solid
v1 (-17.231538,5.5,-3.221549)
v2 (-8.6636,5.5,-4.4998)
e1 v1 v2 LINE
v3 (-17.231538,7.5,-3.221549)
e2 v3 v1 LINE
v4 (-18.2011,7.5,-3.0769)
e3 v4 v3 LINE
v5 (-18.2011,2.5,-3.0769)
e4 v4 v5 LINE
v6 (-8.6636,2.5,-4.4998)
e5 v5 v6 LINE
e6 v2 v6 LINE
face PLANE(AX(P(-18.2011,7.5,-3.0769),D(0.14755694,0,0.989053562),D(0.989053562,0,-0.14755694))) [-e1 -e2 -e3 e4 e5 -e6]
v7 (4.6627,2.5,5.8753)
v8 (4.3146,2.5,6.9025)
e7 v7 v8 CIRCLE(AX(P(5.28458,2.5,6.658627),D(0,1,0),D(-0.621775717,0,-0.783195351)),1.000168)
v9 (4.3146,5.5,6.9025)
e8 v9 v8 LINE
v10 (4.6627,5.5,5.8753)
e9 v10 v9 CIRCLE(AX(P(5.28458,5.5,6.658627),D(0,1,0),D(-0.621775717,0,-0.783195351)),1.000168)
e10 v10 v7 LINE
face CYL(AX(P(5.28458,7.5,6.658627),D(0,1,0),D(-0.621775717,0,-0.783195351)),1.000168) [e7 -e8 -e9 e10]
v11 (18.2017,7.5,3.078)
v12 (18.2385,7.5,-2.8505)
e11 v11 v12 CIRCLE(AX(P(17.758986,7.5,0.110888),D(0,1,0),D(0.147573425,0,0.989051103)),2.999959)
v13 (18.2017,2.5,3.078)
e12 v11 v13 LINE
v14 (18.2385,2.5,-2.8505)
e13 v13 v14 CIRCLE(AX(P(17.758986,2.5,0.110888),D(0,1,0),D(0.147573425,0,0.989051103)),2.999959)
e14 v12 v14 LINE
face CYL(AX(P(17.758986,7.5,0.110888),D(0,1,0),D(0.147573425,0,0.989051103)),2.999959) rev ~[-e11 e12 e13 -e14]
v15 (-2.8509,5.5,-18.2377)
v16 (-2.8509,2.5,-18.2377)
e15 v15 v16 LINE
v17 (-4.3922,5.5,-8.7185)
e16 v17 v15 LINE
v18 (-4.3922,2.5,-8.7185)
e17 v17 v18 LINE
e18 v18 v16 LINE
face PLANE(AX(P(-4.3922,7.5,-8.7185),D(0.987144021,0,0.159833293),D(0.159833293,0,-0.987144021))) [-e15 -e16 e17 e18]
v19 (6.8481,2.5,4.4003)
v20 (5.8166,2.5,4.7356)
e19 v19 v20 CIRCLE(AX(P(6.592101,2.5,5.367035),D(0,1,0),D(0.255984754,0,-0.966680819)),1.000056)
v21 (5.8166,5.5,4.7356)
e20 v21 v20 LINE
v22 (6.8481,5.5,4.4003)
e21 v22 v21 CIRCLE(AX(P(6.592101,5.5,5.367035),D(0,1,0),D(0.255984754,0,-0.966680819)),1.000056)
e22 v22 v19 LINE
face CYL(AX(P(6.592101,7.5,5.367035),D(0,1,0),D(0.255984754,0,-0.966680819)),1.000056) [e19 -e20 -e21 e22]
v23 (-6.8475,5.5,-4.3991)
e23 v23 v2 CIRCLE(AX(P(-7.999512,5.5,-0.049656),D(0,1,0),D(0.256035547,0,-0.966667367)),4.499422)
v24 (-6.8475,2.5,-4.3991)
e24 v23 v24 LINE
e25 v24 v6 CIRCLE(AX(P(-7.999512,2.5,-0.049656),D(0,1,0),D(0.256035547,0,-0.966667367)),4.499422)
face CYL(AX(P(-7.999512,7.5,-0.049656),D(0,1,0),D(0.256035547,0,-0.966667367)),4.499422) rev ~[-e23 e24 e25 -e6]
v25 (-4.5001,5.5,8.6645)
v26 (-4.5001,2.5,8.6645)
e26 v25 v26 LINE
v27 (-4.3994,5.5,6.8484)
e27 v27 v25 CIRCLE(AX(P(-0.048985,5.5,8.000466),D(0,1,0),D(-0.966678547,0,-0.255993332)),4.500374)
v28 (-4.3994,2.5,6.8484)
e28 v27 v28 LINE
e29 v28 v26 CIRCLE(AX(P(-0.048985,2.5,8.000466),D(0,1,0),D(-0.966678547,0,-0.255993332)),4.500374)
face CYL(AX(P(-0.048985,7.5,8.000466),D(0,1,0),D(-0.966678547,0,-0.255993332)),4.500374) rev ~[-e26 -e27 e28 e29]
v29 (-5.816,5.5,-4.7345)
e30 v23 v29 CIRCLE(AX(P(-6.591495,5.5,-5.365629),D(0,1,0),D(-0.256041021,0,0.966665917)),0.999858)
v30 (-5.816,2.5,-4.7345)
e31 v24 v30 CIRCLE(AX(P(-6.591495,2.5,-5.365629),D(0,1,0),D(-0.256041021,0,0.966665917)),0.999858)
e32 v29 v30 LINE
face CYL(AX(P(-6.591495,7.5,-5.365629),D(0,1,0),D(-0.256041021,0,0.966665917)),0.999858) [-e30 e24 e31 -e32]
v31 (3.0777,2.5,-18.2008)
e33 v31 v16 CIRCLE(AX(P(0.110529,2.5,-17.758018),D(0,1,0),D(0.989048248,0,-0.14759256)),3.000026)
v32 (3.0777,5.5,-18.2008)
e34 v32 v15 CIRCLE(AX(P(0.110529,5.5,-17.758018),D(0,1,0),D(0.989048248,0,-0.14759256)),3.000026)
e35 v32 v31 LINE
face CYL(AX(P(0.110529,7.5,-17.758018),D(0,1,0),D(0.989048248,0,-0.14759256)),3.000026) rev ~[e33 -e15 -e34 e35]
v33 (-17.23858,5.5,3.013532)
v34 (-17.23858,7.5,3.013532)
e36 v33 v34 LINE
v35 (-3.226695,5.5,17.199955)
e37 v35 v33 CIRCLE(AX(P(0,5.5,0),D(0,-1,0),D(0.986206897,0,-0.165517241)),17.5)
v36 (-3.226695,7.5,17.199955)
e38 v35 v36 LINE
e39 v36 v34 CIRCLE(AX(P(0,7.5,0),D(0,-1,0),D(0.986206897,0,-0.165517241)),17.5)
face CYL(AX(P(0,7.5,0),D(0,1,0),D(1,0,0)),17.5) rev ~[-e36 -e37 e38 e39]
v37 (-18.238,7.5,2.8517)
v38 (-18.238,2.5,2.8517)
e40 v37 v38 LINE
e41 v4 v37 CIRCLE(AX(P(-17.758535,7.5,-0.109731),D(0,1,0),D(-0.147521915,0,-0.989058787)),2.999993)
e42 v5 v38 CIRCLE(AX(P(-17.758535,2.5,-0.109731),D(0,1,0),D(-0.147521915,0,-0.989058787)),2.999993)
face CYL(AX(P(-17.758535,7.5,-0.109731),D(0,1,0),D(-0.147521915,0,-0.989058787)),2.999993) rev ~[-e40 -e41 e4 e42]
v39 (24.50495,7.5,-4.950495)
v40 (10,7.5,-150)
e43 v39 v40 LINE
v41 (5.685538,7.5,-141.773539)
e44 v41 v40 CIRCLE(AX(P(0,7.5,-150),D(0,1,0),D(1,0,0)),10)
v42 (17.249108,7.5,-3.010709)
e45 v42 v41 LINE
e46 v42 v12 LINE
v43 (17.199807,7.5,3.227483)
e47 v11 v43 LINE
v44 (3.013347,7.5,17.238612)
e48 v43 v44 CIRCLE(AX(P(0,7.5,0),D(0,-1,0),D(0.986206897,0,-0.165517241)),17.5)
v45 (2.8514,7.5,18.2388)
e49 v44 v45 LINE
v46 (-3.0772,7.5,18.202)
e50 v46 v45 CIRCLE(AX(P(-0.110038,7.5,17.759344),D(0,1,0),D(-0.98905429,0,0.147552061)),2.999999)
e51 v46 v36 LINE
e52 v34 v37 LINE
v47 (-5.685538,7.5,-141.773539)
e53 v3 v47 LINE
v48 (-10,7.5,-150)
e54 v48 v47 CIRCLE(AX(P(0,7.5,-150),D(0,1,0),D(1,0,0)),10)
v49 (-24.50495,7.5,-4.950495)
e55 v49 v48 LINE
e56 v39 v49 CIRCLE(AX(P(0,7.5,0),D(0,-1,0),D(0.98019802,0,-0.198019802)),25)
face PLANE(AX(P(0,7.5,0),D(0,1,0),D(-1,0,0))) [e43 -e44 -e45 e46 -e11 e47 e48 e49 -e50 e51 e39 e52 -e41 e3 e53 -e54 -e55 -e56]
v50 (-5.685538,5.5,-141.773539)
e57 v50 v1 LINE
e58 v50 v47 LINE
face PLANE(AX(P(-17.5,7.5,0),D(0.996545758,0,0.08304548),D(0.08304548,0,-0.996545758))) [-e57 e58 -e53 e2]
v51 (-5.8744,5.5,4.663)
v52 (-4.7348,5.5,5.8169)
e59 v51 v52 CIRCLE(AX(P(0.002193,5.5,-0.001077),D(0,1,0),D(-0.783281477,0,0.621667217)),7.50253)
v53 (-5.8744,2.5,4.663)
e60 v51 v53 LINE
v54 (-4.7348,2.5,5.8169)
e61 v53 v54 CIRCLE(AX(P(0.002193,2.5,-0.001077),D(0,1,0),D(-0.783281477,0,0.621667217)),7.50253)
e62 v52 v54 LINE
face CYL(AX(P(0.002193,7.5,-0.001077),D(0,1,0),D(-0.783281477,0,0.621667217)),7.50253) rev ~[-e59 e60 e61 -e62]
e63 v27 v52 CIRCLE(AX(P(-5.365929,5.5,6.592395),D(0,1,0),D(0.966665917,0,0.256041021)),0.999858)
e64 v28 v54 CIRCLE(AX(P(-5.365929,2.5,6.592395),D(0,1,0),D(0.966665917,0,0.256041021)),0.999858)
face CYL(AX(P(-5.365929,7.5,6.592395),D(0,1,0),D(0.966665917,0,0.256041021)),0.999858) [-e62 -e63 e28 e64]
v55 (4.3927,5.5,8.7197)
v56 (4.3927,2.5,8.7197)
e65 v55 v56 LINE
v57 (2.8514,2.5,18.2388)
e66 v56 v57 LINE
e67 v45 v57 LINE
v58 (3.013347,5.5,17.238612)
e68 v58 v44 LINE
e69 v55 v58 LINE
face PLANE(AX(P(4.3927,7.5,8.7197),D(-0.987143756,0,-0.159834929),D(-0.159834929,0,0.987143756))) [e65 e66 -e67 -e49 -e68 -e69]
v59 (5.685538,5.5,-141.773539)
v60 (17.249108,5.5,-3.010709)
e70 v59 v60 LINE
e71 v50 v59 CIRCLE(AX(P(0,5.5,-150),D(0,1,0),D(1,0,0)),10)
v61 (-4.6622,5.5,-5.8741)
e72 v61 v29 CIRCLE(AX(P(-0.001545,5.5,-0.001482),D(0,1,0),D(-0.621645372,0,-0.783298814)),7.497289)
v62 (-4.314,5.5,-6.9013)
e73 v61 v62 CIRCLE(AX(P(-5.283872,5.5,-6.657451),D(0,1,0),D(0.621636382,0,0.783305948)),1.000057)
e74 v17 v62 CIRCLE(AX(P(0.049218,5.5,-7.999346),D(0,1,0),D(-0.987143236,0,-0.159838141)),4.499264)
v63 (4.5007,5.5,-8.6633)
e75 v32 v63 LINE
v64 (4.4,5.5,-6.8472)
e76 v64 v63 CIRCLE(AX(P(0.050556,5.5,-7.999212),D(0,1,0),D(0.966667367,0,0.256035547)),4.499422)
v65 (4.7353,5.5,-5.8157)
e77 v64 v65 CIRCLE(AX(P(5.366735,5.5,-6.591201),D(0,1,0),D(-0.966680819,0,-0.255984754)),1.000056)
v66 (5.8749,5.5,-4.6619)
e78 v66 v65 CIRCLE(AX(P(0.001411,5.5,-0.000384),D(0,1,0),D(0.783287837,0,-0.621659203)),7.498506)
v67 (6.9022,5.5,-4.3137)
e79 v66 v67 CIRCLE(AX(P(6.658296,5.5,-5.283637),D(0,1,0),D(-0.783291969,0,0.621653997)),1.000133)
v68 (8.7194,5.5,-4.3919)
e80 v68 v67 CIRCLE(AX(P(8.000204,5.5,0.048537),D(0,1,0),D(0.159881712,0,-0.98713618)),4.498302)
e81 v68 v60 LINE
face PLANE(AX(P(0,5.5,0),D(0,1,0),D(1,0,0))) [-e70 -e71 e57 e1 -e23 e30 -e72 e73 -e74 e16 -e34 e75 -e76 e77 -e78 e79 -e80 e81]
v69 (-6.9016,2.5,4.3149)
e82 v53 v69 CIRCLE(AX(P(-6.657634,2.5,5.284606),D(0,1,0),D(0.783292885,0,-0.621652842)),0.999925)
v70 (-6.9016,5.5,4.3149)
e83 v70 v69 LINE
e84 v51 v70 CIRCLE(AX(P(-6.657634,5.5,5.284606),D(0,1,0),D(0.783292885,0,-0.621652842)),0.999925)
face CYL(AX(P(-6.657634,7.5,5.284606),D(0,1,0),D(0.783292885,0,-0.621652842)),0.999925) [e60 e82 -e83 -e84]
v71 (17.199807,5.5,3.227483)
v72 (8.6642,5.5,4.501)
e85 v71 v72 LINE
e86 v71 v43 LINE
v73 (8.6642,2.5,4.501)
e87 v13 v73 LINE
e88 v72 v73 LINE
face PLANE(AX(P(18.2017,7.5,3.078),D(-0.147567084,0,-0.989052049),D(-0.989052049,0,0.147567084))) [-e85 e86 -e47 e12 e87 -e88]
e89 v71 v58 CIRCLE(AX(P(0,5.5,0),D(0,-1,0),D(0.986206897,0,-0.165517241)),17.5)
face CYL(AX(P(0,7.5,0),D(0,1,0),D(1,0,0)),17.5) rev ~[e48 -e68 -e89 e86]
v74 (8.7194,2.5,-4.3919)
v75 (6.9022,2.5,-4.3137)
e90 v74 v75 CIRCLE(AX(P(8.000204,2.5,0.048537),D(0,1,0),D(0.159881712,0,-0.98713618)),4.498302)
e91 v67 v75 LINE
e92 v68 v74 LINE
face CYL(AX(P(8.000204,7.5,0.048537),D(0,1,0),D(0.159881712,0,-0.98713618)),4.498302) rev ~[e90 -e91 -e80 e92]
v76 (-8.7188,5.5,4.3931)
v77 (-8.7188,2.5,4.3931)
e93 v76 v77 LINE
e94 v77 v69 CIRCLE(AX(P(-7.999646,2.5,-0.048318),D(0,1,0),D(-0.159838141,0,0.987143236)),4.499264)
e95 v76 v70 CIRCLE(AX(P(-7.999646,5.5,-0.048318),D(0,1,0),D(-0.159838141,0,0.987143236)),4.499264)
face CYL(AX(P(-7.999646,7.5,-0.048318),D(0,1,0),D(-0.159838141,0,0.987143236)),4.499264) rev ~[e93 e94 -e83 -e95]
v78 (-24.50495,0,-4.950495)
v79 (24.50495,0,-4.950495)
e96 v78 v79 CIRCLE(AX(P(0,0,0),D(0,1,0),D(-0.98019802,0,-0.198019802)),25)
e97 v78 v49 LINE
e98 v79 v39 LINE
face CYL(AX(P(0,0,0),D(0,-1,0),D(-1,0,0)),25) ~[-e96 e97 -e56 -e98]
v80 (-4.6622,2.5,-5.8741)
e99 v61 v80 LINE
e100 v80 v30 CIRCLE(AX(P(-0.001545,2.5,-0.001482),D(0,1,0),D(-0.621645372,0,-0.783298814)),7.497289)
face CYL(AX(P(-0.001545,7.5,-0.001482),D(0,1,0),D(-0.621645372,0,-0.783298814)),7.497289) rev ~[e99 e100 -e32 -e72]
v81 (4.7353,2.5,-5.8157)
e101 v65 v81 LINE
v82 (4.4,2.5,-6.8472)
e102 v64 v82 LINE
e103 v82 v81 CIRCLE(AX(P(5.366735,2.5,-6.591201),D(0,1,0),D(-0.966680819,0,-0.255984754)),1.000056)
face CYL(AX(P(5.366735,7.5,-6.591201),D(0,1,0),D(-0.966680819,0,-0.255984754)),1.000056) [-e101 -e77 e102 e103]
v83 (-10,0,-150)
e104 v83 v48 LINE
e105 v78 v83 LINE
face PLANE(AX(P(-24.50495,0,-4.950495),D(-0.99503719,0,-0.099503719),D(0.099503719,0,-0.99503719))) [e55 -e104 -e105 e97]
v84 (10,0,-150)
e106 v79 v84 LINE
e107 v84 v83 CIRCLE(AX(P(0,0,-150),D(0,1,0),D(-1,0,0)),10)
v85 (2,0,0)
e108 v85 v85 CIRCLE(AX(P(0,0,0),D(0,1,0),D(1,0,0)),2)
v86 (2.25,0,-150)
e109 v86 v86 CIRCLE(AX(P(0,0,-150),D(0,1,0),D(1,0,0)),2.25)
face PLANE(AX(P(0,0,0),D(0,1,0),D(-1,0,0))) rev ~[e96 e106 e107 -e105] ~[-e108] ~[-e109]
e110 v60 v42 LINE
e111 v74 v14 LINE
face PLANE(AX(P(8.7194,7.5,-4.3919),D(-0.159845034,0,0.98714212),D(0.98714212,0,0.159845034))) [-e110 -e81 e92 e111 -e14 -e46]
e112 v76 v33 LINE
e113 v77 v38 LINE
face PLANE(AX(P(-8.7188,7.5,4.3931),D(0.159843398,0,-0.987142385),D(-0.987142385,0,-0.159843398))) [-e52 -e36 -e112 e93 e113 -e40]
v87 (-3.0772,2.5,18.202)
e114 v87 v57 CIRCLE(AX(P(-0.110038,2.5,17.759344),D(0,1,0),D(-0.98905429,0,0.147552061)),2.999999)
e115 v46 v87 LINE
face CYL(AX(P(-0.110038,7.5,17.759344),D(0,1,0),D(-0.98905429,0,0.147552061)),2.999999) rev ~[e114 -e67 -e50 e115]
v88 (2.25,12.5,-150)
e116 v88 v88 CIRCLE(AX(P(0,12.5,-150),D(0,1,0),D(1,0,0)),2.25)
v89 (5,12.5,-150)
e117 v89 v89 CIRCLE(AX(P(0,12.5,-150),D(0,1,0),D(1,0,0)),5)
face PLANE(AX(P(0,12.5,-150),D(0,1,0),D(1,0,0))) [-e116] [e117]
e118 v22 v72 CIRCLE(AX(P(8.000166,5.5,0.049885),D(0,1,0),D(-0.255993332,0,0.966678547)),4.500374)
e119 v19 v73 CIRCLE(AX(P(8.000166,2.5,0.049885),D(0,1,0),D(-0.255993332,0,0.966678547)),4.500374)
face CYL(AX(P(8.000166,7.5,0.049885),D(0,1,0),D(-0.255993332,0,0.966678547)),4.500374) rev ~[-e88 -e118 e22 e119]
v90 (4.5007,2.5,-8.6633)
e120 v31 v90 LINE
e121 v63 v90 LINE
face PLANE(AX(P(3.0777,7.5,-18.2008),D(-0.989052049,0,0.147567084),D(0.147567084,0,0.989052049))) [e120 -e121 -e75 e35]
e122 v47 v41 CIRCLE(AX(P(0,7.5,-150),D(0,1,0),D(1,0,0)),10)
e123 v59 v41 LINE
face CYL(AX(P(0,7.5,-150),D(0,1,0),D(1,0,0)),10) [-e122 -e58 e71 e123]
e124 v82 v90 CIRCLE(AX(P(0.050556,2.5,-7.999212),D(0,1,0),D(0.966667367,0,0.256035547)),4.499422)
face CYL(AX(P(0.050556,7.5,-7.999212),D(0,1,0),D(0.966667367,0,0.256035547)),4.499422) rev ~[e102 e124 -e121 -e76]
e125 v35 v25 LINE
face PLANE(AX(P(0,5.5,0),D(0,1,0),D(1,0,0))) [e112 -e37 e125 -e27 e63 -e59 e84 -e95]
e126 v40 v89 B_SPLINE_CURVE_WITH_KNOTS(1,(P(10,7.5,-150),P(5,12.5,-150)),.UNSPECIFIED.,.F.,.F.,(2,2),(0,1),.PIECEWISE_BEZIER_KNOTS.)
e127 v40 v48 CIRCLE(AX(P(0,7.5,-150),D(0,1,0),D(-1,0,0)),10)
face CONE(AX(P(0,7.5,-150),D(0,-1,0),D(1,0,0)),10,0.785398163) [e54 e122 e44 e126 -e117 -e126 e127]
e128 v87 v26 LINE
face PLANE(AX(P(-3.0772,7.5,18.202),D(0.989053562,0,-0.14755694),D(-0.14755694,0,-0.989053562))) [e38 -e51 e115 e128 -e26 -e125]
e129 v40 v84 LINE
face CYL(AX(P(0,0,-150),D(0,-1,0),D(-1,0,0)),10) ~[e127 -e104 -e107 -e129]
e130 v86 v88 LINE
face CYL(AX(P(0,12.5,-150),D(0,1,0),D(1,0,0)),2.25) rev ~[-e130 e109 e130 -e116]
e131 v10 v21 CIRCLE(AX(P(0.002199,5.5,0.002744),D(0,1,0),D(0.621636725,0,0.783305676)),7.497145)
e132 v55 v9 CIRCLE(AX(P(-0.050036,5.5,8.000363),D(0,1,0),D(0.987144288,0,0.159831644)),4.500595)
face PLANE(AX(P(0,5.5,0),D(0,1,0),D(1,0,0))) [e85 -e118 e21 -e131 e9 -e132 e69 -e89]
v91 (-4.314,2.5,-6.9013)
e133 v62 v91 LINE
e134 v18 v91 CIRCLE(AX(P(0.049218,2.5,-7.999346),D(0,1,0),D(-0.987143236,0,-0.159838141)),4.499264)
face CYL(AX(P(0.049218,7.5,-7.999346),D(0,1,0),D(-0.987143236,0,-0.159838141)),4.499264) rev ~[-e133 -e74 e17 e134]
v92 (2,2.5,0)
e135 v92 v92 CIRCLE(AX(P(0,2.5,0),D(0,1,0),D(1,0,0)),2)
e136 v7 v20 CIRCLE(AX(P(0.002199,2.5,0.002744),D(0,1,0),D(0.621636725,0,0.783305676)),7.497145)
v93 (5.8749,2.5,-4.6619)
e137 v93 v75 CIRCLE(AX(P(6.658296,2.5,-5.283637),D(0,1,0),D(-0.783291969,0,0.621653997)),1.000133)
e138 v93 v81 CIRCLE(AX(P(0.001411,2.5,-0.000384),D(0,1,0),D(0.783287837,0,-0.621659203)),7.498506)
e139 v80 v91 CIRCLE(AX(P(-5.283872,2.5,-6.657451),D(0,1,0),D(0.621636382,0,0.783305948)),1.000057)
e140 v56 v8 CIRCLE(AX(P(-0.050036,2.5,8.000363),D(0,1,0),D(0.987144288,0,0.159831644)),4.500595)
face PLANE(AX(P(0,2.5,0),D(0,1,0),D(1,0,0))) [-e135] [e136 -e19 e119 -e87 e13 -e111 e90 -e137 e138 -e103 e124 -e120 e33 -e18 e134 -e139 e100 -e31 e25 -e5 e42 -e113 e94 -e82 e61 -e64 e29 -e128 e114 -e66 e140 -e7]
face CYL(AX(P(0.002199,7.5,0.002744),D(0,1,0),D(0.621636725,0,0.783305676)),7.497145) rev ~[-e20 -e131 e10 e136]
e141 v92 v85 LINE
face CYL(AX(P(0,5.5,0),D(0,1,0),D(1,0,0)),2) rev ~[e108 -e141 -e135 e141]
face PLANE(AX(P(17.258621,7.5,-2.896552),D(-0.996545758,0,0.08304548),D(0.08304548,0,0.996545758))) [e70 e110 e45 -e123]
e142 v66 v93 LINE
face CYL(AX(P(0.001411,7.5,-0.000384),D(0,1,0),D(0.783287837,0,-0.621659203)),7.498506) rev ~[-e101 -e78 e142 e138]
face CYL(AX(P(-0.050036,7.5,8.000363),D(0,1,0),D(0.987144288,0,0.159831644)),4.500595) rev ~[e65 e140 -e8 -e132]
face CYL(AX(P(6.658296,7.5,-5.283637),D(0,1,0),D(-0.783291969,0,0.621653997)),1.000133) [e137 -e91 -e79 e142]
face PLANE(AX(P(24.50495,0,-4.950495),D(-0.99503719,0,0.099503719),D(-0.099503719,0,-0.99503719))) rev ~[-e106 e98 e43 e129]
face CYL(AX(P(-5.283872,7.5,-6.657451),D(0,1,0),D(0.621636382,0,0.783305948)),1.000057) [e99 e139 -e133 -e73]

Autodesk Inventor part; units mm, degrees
ref_plane "YZ Plane" through (0, 0, 0) normal (1, 0, 0) x (0, 1, 0)
sketch "Sketch1" plane through (0, 0, 0) normal (0, 1, 0) x (-1, 0, 0)
  circle A0 centre (0, 0) radius 25
  line L0 (0, 0) -> (0, -150)
  circle A1 centre (0, -150) radius 10
  line L1 (0, 0) -> (25, 0)
  line L2 (0, -150) -> (10, -150)
  line L3 (0, -150) -> (-10, -150)
  line L4 (0, 0) -> (-25, 0)
  line L5 (25, 0) -> (10, -150)
  line L6 (-25, 0) -> (-10, -150)
  dimension "d0" = 50
  dimension "d1" = 150
  dimension "d2" = 20
extrude "Extrusion1" add sketch "Sketch1" along normal blind 7.5
sketch "Sketch2" plane through (0, 7.5, 0) normal (0, 1, 0) x (1, 0, 0)
  circle A0 centre (0, 0) radius 17.5
  arc A1 (10, 150) -> (-10, 150) centre (0, 150) ccw projected
  circle A2 centre (0, 150) radius 5
  line L0 (0, 0) -> (-17.5, 0)
  line L1 (0, 0) -> (17.5, 0)
  line L2 (0, 150) -> (-5, 150)
  line L3 (0, 150) -> (5, 150)
  line L4 (-17.5, 0) -> (-5, 150)
  line L5 (5, 150) -> (17.5, 0)
  dimension "d5" = 35
  dimension "d6" = 10
extrude "Extrusion2" cut sketch "Sketch2" against normal blind 2 contours L4 A0 L5 L1 L0 | L4 A2 L5 A0
sketch "Sketch3" plane through (0, 5.5, 0) normal (0, 1, 0) x (1, 0, 0)
  arc A0 (5, 150) -> (-5, 150) centre (0, 150) ccw projected
  circle A1 centre (0, 150) radius 2.25
  circle A2 centre (0, 0) radius 2
  dimension "d9" = 4.5
  dimension "d12" = 4
extrude "Extrusion4" cut sketch "Sketch3" against normal blind 5.5
sketch "Sketch4" plane through (0, 7.5, 0) normal (0, 1, 0) x (1, 0, 0)
  circle A0 centre (0, 150) radius 2.25 projected
  arc A1 (5, 150) -> (-5, 150) centre (0, 150) ccw projected
  arc A2 (10, 150) -> (-10, 150) centre (0, 150) ccw projected
  line L0 (24.505, 4.9505) -> (10, 150) projected
  circle A3 centre (0, 150) radius 10
  circle A4 centre (0, 150) radius 2.25
  point P0 (0, 0)
  dimension "d22" = 4.5
ref_plane "Work Plane1" through (0, 12.5, 0) normal (0, 1, 0) x (1, 0, 0)
sketch "Sketch8" plane through (0, 5.5, 0) normal (0, 1, 0) x (1, 0, 0)
  point P0 (0, 0)
sketch "Sketch9" plane through (0, 7.5, 0) normal (0, 1, 0) x (1, 0, 0)
  arc A0 (2, 0) -> (-2, 0) centre (0, 0) ccw projected
  line L0 (17.5, 0) -> (-17.5, 0) projected
  circle A1 centre (0, 0) radius 17.5
extrude "Extrusion7" cut sketch "Sketch9" against normal blind 2 contours A0 L0 A1 | L0 A1
sketch "Sketch10" plane through (0, 7.5, 0) normal (0, 1, 0) x (1, 0, 0)
  arc A0 (-2.0881, -18.0545) -> (1.8643, -18.079) centre (-0.11, -17.7593) ccw
  line L0 (3.4056, -8.5599) -> (1.8643, -18.079)
  arc A1 (3.4056, -8.5599) -> (3.3448, -7.1465) centre (-0.0494, -8.0004) ccw
  arc A2 (4.0411, -5.092) -> (3.3448, -7.1465) centre (5.2844, -6.6585) ccw
  arc A3 (4.0411, -5.092) -> (5.0411, -4.1043) centre (0.0003, -0.0006) ccw
  arc A4 (7.1041, -3.4336) -> (5.0411, -4.1043) centre (6.5921, -5.367) ccw
  arc A5 (7.1041, -3.4336) -> (8.5166, -3.512) centre (8.0001, -0.0503) ccw
  line L1 (18.0541, -2.089) -> (8.5166, -3.512)
  arc A6 (18.0541, -2.089) -> (18.0787, 1.8634) centre (17.759, -0.1109) ccw
  line L2 (8.5596, 3.4047) -> (18.0787, 1.8634)
  arc A7 (8.5596, 3.4047) -> (7.1462, 3.344) centre (8.0001, -0.0503) ccw
  arc A8 (5.0917, 4.0402) -> (7.1462, 3.344) centre (6.6582, 5.2835) ccw
  arc A9 (5.0917, 4.0402) -> (4.104, 5.0402) centre (0.0003, -0.0006) ccw
  arc A10 (3.4333, 7.1032) -> (4.104, 5.0402) centre (5.3667, 6.5912) ccw
  arc A11 (3.4333, 7.1032) -> (3.5117, 8.5157) centre (0.05, 7.9993) ccw
  line L3 (2.0887, 18.0533) -> (3.5117, 8.5157)
  arc A12 (2.0887, 18.0533) -> (-1.8637, 18.0778) centre (0.1106, 17.7581) ccw
  line L4 (-3.405, 8.5587) -> (-1.8637, 18.0778)
  arc A13 (-3.405, 8.5587) -> (-3.3443, 7.1453) centre (0.05, 7.9993) ccw
  arc A14 (-4.0405, 5.0908) -> (-3.3443, 7.1453) centre (-5.2838, 6.6574) ccw
  arc A15 (-4.0405, 5.0908) -> (-5.0405, 4.1031) centre (0.0003, -0.0006) ccw
  arc A16 (-7.1035, 3.4325) -> (-5.0405, 4.1031) centre (-6.5915, 5.3658) ccw
  arc A17 (-7.1035, 3.4325) -> (-8.516, 3.5108) centre (-7.9996, 0.0491) ccw
  line L5 (-18.0536, 2.0878) -> (-8.516, 3.5108)
  arc A18 (-18.0536, 2.0878) -> (-18.0781, -1.8646) centre (-17.7585, 0.1097) ccw
  line L6 (-8.559, -3.4059) -> (-18.0781, -1.8646)
  arc A19 (-8.559, -3.4059) -> (-7.1456, -3.3451) centre (-7.9996, 0.0491) ccw
  arc A20 (-5.0911, -4.0414) -> (-7.1456, -3.3451) centre (-6.6577, -5.2847) ccw
  arc A21 (-5.0911, -4.0414) -> (-4.1034, -5.0414) centre (0.0003, -0.0006) ccw
  arc A22 (-3.4328, -7.1044) -> (-4.1034, -5.0414) centre (-5.3661, -6.5924) ccw
  arc A23 (-3.4328, -7.1044) -> (-3.5111, -8.5169) centre (-0.0494, -8.0004) ccw
  line L7 (-2.0881, -18.0545) -> (-3.5111, -8.5169)
  arc A24 (-18.2011, 3.0769) -> (-18.238, -2.8517) centre (-17.7585, 0.1097) ccw
  line L8 (-18.2011, 3.0769) -> (-8.6636, 4.4998)
  arc A25 (-6.8475, 4.3991) -> (-8.6636, 4.4998) centre (-7.9996, 0.0491) ccw
  arc A26 (-6.8475, 4.3991) -> (-5.816, 4.7345) centre (-6.5915, 5.3658) ccw
  arc A27 (-4.6622, 5.8741) -> (-5.816, 4.7345) centre (0.0003, -0.0006) ccw
  arc A28 (-4.6622, 5.8741) -> (-4.314, 6.9013) centre (-5.2838, 6.6574) ccw
  arc A29 (-4.3922, 8.7185) -> (-4.314, 6.9013) centre (0.05, 7.9993) ccw
  line L9 (-4.3922, 8.7185) -> (-2.8509, 18.2377)
  arc A30 (3.0777, 18.2008) -> (-2.8509, 18.2377) centre (0.1106, 17.7581) ccw
  line L10 (3.0777, 18.2008) -> (4.5007, 8.6633)
  arc A31 (4.4, 6.8472) -> (4.5007, 8.6633) centre (0.05, 7.9993) ccw
  arc A32 (4.4, 6.8472) -> (4.7353, 5.8157) centre (5.3667, 6.5912) ccw
  arc A33 (5.8749, 4.6619) -> (4.7353, 5.8157) centre (0.0003, -0.0006) ccw
  arc A34 (5.8749, 4.6619) -> (6.9022, 4.3137) centre (6.6582, 5.2835) ccw
  arc A35 (8.7194, 4.3919) -> (6.9022, 4.3137) centre (8.0001, -0.0503) ccw
  line L11 (8.7194, 4.3919) -> (18.2385, 2.8505)
  arc A36 (18.2017, -3.078) -> (18.2385, 2.8505) centre (17.759, -0.1109) ccw
  line L12 (18.2017, -3.078) -> (8.6642, -4.501)
  arc A37 (6.8481, -4.4003) -> (8.6642, -4.501) centre (8.0001, -0.0503) ccw
  arc A38 (6.8481, -4.4003) -> (5.8166, -4.7356) centre (6.5921, -5.367) ccw
  arc A39 (4.6627, -5.8753) -> (5.8166, -4.7356) centre (0.0003, -0.0006) ccw
  arc A40 (4.6627, -5.8753) -> (4.3146, -6.9025) centre (5.2844, -6.6585) ccw
  arc A41 (4.3927, -8.7197) -> (4.3146, -6.9025) centre (-0.0494, -8.0004) ccw
  line L13 (4.3927, -8.7197) -> (2.8514, -18.2388)
  arc A42 (-3.0772, -18.202) -> (2.8514, -18.2388) centre (-0.11, -17.7593) ccw
  line L14 (-3.0772, -18.202) -> (-4.5001, -8.6645)
  arc A43 (-4.3994, -6.8484) -> (-4.5001, -8.6645) centre (-0.0494, -8.0004) ccw
  arc A44 (-4.3994, -6.8484) -> (-4.7348, -5.8169) centre (-5.3661, -6.5924) ccw
  arc A45 (-5.8744, -4.663) -> (-4.7348, -5.8169) centre (0.0003, -0.0006) ccw
  arc A46 (-5.8744, -4.663) -> (-6.9016, -4.3149) centre (-6.6577, -5.2847) ccw
  arc A47 (-8.7188, -4.3931) -> (-6.9016, -4.3149) centre (-7.9996, 0.0491) ccw
  line L15 (-8.7188, -4.3931) -> (-18.238, -2.8517)
  point P0 (0, 0)
  point P1 (-0.0006, -0.0008)
  point P2 (5.0634, 6.1933)
  point P3 (0.0701, 8.4991)
  point P4 (0.0003, -0.0006)
  point P5 (11.2399, 13.7492)
  point P6 (5.0634, 6.1933)
  point P7 (6.1942, -5.0637)
  point P8 (13.7501, -11.2402)
  point P9 (-13.7495, 11.239)
  point P10 (-11.2393, -13.7504)
  point P11 (-5.0629, -6.1945)
  point P12 (-5.0629, -6.1945)
  point P13 (-0.0695, -8.5003)
  point P14 (0.0003, -0.0006)
  dimension "d38" = 0.001
  dimension "d39" = 1
extrude "Extrusion8" cut sketch "Sketch10" against normal blind 5 contours L7 A23 A22 A21 A20 A19 L6 A18 L5 A17 A16 A15 A14 A13 L4 A12 L3 A11 A10 A9 A8 A7 L2 A6 L1 A5 A4 A3 A2 A1 L0 A0 | L8 A25 A26 A27 A28 A29 L9 A30 L10 A31 A32 A33 A34 A35 L11 A36 L12 A37 A38 A39 A40 A41 L13 A42 L14 A43 A44 A45 A46 A47 L15 A24
extrude "Extrusion9" add sketch "Sketch4" against normal blind 5
sketch "Sketch11" plane through (0, 7.5, 0) normal (0, 1, 0) x (1, 0, 0)
  circle A0 centre (0, 150) radius 2.25 projected
  line L0 (24.505, 4.9505) -> (10, 150) projected
  circle A1 centre (0, 150) radius 10
  point P0 (0, 0)
ref_plane "Work Plane2" through (0, 12.5, 0) normal (0, 1, 0) x (1, 0, 0)
sketch "Sketch12" plane through (0, 12.5, 0) normal (0, 1, 0) x (1, 0, 0)
  circle A0 centre (0, 150) radius 2.25 projected
  circle A1 centre (0, 150) radius 5
  point P0 (0, 0)
  dimension "d45" = 10
loft "Loft3" add profiles "Sketch11", "Sketch12" contours A0 | A1 / A0 | A1
sketch "Sketch13" plane through (0, 12.5, -150) normal (0, 1, 0) x (1, 0, 0)
  circle A0 centre (0, 0) radius 2.25 projected
  circle A1 centre (0, 0) radius 2.25
  point P0 (0, -150)
  dimension "d50" = 4.5
extrude "Extrusion10" cut sketch "Sketch13" against normal blind 10
properties part number "Delta_Arm"
